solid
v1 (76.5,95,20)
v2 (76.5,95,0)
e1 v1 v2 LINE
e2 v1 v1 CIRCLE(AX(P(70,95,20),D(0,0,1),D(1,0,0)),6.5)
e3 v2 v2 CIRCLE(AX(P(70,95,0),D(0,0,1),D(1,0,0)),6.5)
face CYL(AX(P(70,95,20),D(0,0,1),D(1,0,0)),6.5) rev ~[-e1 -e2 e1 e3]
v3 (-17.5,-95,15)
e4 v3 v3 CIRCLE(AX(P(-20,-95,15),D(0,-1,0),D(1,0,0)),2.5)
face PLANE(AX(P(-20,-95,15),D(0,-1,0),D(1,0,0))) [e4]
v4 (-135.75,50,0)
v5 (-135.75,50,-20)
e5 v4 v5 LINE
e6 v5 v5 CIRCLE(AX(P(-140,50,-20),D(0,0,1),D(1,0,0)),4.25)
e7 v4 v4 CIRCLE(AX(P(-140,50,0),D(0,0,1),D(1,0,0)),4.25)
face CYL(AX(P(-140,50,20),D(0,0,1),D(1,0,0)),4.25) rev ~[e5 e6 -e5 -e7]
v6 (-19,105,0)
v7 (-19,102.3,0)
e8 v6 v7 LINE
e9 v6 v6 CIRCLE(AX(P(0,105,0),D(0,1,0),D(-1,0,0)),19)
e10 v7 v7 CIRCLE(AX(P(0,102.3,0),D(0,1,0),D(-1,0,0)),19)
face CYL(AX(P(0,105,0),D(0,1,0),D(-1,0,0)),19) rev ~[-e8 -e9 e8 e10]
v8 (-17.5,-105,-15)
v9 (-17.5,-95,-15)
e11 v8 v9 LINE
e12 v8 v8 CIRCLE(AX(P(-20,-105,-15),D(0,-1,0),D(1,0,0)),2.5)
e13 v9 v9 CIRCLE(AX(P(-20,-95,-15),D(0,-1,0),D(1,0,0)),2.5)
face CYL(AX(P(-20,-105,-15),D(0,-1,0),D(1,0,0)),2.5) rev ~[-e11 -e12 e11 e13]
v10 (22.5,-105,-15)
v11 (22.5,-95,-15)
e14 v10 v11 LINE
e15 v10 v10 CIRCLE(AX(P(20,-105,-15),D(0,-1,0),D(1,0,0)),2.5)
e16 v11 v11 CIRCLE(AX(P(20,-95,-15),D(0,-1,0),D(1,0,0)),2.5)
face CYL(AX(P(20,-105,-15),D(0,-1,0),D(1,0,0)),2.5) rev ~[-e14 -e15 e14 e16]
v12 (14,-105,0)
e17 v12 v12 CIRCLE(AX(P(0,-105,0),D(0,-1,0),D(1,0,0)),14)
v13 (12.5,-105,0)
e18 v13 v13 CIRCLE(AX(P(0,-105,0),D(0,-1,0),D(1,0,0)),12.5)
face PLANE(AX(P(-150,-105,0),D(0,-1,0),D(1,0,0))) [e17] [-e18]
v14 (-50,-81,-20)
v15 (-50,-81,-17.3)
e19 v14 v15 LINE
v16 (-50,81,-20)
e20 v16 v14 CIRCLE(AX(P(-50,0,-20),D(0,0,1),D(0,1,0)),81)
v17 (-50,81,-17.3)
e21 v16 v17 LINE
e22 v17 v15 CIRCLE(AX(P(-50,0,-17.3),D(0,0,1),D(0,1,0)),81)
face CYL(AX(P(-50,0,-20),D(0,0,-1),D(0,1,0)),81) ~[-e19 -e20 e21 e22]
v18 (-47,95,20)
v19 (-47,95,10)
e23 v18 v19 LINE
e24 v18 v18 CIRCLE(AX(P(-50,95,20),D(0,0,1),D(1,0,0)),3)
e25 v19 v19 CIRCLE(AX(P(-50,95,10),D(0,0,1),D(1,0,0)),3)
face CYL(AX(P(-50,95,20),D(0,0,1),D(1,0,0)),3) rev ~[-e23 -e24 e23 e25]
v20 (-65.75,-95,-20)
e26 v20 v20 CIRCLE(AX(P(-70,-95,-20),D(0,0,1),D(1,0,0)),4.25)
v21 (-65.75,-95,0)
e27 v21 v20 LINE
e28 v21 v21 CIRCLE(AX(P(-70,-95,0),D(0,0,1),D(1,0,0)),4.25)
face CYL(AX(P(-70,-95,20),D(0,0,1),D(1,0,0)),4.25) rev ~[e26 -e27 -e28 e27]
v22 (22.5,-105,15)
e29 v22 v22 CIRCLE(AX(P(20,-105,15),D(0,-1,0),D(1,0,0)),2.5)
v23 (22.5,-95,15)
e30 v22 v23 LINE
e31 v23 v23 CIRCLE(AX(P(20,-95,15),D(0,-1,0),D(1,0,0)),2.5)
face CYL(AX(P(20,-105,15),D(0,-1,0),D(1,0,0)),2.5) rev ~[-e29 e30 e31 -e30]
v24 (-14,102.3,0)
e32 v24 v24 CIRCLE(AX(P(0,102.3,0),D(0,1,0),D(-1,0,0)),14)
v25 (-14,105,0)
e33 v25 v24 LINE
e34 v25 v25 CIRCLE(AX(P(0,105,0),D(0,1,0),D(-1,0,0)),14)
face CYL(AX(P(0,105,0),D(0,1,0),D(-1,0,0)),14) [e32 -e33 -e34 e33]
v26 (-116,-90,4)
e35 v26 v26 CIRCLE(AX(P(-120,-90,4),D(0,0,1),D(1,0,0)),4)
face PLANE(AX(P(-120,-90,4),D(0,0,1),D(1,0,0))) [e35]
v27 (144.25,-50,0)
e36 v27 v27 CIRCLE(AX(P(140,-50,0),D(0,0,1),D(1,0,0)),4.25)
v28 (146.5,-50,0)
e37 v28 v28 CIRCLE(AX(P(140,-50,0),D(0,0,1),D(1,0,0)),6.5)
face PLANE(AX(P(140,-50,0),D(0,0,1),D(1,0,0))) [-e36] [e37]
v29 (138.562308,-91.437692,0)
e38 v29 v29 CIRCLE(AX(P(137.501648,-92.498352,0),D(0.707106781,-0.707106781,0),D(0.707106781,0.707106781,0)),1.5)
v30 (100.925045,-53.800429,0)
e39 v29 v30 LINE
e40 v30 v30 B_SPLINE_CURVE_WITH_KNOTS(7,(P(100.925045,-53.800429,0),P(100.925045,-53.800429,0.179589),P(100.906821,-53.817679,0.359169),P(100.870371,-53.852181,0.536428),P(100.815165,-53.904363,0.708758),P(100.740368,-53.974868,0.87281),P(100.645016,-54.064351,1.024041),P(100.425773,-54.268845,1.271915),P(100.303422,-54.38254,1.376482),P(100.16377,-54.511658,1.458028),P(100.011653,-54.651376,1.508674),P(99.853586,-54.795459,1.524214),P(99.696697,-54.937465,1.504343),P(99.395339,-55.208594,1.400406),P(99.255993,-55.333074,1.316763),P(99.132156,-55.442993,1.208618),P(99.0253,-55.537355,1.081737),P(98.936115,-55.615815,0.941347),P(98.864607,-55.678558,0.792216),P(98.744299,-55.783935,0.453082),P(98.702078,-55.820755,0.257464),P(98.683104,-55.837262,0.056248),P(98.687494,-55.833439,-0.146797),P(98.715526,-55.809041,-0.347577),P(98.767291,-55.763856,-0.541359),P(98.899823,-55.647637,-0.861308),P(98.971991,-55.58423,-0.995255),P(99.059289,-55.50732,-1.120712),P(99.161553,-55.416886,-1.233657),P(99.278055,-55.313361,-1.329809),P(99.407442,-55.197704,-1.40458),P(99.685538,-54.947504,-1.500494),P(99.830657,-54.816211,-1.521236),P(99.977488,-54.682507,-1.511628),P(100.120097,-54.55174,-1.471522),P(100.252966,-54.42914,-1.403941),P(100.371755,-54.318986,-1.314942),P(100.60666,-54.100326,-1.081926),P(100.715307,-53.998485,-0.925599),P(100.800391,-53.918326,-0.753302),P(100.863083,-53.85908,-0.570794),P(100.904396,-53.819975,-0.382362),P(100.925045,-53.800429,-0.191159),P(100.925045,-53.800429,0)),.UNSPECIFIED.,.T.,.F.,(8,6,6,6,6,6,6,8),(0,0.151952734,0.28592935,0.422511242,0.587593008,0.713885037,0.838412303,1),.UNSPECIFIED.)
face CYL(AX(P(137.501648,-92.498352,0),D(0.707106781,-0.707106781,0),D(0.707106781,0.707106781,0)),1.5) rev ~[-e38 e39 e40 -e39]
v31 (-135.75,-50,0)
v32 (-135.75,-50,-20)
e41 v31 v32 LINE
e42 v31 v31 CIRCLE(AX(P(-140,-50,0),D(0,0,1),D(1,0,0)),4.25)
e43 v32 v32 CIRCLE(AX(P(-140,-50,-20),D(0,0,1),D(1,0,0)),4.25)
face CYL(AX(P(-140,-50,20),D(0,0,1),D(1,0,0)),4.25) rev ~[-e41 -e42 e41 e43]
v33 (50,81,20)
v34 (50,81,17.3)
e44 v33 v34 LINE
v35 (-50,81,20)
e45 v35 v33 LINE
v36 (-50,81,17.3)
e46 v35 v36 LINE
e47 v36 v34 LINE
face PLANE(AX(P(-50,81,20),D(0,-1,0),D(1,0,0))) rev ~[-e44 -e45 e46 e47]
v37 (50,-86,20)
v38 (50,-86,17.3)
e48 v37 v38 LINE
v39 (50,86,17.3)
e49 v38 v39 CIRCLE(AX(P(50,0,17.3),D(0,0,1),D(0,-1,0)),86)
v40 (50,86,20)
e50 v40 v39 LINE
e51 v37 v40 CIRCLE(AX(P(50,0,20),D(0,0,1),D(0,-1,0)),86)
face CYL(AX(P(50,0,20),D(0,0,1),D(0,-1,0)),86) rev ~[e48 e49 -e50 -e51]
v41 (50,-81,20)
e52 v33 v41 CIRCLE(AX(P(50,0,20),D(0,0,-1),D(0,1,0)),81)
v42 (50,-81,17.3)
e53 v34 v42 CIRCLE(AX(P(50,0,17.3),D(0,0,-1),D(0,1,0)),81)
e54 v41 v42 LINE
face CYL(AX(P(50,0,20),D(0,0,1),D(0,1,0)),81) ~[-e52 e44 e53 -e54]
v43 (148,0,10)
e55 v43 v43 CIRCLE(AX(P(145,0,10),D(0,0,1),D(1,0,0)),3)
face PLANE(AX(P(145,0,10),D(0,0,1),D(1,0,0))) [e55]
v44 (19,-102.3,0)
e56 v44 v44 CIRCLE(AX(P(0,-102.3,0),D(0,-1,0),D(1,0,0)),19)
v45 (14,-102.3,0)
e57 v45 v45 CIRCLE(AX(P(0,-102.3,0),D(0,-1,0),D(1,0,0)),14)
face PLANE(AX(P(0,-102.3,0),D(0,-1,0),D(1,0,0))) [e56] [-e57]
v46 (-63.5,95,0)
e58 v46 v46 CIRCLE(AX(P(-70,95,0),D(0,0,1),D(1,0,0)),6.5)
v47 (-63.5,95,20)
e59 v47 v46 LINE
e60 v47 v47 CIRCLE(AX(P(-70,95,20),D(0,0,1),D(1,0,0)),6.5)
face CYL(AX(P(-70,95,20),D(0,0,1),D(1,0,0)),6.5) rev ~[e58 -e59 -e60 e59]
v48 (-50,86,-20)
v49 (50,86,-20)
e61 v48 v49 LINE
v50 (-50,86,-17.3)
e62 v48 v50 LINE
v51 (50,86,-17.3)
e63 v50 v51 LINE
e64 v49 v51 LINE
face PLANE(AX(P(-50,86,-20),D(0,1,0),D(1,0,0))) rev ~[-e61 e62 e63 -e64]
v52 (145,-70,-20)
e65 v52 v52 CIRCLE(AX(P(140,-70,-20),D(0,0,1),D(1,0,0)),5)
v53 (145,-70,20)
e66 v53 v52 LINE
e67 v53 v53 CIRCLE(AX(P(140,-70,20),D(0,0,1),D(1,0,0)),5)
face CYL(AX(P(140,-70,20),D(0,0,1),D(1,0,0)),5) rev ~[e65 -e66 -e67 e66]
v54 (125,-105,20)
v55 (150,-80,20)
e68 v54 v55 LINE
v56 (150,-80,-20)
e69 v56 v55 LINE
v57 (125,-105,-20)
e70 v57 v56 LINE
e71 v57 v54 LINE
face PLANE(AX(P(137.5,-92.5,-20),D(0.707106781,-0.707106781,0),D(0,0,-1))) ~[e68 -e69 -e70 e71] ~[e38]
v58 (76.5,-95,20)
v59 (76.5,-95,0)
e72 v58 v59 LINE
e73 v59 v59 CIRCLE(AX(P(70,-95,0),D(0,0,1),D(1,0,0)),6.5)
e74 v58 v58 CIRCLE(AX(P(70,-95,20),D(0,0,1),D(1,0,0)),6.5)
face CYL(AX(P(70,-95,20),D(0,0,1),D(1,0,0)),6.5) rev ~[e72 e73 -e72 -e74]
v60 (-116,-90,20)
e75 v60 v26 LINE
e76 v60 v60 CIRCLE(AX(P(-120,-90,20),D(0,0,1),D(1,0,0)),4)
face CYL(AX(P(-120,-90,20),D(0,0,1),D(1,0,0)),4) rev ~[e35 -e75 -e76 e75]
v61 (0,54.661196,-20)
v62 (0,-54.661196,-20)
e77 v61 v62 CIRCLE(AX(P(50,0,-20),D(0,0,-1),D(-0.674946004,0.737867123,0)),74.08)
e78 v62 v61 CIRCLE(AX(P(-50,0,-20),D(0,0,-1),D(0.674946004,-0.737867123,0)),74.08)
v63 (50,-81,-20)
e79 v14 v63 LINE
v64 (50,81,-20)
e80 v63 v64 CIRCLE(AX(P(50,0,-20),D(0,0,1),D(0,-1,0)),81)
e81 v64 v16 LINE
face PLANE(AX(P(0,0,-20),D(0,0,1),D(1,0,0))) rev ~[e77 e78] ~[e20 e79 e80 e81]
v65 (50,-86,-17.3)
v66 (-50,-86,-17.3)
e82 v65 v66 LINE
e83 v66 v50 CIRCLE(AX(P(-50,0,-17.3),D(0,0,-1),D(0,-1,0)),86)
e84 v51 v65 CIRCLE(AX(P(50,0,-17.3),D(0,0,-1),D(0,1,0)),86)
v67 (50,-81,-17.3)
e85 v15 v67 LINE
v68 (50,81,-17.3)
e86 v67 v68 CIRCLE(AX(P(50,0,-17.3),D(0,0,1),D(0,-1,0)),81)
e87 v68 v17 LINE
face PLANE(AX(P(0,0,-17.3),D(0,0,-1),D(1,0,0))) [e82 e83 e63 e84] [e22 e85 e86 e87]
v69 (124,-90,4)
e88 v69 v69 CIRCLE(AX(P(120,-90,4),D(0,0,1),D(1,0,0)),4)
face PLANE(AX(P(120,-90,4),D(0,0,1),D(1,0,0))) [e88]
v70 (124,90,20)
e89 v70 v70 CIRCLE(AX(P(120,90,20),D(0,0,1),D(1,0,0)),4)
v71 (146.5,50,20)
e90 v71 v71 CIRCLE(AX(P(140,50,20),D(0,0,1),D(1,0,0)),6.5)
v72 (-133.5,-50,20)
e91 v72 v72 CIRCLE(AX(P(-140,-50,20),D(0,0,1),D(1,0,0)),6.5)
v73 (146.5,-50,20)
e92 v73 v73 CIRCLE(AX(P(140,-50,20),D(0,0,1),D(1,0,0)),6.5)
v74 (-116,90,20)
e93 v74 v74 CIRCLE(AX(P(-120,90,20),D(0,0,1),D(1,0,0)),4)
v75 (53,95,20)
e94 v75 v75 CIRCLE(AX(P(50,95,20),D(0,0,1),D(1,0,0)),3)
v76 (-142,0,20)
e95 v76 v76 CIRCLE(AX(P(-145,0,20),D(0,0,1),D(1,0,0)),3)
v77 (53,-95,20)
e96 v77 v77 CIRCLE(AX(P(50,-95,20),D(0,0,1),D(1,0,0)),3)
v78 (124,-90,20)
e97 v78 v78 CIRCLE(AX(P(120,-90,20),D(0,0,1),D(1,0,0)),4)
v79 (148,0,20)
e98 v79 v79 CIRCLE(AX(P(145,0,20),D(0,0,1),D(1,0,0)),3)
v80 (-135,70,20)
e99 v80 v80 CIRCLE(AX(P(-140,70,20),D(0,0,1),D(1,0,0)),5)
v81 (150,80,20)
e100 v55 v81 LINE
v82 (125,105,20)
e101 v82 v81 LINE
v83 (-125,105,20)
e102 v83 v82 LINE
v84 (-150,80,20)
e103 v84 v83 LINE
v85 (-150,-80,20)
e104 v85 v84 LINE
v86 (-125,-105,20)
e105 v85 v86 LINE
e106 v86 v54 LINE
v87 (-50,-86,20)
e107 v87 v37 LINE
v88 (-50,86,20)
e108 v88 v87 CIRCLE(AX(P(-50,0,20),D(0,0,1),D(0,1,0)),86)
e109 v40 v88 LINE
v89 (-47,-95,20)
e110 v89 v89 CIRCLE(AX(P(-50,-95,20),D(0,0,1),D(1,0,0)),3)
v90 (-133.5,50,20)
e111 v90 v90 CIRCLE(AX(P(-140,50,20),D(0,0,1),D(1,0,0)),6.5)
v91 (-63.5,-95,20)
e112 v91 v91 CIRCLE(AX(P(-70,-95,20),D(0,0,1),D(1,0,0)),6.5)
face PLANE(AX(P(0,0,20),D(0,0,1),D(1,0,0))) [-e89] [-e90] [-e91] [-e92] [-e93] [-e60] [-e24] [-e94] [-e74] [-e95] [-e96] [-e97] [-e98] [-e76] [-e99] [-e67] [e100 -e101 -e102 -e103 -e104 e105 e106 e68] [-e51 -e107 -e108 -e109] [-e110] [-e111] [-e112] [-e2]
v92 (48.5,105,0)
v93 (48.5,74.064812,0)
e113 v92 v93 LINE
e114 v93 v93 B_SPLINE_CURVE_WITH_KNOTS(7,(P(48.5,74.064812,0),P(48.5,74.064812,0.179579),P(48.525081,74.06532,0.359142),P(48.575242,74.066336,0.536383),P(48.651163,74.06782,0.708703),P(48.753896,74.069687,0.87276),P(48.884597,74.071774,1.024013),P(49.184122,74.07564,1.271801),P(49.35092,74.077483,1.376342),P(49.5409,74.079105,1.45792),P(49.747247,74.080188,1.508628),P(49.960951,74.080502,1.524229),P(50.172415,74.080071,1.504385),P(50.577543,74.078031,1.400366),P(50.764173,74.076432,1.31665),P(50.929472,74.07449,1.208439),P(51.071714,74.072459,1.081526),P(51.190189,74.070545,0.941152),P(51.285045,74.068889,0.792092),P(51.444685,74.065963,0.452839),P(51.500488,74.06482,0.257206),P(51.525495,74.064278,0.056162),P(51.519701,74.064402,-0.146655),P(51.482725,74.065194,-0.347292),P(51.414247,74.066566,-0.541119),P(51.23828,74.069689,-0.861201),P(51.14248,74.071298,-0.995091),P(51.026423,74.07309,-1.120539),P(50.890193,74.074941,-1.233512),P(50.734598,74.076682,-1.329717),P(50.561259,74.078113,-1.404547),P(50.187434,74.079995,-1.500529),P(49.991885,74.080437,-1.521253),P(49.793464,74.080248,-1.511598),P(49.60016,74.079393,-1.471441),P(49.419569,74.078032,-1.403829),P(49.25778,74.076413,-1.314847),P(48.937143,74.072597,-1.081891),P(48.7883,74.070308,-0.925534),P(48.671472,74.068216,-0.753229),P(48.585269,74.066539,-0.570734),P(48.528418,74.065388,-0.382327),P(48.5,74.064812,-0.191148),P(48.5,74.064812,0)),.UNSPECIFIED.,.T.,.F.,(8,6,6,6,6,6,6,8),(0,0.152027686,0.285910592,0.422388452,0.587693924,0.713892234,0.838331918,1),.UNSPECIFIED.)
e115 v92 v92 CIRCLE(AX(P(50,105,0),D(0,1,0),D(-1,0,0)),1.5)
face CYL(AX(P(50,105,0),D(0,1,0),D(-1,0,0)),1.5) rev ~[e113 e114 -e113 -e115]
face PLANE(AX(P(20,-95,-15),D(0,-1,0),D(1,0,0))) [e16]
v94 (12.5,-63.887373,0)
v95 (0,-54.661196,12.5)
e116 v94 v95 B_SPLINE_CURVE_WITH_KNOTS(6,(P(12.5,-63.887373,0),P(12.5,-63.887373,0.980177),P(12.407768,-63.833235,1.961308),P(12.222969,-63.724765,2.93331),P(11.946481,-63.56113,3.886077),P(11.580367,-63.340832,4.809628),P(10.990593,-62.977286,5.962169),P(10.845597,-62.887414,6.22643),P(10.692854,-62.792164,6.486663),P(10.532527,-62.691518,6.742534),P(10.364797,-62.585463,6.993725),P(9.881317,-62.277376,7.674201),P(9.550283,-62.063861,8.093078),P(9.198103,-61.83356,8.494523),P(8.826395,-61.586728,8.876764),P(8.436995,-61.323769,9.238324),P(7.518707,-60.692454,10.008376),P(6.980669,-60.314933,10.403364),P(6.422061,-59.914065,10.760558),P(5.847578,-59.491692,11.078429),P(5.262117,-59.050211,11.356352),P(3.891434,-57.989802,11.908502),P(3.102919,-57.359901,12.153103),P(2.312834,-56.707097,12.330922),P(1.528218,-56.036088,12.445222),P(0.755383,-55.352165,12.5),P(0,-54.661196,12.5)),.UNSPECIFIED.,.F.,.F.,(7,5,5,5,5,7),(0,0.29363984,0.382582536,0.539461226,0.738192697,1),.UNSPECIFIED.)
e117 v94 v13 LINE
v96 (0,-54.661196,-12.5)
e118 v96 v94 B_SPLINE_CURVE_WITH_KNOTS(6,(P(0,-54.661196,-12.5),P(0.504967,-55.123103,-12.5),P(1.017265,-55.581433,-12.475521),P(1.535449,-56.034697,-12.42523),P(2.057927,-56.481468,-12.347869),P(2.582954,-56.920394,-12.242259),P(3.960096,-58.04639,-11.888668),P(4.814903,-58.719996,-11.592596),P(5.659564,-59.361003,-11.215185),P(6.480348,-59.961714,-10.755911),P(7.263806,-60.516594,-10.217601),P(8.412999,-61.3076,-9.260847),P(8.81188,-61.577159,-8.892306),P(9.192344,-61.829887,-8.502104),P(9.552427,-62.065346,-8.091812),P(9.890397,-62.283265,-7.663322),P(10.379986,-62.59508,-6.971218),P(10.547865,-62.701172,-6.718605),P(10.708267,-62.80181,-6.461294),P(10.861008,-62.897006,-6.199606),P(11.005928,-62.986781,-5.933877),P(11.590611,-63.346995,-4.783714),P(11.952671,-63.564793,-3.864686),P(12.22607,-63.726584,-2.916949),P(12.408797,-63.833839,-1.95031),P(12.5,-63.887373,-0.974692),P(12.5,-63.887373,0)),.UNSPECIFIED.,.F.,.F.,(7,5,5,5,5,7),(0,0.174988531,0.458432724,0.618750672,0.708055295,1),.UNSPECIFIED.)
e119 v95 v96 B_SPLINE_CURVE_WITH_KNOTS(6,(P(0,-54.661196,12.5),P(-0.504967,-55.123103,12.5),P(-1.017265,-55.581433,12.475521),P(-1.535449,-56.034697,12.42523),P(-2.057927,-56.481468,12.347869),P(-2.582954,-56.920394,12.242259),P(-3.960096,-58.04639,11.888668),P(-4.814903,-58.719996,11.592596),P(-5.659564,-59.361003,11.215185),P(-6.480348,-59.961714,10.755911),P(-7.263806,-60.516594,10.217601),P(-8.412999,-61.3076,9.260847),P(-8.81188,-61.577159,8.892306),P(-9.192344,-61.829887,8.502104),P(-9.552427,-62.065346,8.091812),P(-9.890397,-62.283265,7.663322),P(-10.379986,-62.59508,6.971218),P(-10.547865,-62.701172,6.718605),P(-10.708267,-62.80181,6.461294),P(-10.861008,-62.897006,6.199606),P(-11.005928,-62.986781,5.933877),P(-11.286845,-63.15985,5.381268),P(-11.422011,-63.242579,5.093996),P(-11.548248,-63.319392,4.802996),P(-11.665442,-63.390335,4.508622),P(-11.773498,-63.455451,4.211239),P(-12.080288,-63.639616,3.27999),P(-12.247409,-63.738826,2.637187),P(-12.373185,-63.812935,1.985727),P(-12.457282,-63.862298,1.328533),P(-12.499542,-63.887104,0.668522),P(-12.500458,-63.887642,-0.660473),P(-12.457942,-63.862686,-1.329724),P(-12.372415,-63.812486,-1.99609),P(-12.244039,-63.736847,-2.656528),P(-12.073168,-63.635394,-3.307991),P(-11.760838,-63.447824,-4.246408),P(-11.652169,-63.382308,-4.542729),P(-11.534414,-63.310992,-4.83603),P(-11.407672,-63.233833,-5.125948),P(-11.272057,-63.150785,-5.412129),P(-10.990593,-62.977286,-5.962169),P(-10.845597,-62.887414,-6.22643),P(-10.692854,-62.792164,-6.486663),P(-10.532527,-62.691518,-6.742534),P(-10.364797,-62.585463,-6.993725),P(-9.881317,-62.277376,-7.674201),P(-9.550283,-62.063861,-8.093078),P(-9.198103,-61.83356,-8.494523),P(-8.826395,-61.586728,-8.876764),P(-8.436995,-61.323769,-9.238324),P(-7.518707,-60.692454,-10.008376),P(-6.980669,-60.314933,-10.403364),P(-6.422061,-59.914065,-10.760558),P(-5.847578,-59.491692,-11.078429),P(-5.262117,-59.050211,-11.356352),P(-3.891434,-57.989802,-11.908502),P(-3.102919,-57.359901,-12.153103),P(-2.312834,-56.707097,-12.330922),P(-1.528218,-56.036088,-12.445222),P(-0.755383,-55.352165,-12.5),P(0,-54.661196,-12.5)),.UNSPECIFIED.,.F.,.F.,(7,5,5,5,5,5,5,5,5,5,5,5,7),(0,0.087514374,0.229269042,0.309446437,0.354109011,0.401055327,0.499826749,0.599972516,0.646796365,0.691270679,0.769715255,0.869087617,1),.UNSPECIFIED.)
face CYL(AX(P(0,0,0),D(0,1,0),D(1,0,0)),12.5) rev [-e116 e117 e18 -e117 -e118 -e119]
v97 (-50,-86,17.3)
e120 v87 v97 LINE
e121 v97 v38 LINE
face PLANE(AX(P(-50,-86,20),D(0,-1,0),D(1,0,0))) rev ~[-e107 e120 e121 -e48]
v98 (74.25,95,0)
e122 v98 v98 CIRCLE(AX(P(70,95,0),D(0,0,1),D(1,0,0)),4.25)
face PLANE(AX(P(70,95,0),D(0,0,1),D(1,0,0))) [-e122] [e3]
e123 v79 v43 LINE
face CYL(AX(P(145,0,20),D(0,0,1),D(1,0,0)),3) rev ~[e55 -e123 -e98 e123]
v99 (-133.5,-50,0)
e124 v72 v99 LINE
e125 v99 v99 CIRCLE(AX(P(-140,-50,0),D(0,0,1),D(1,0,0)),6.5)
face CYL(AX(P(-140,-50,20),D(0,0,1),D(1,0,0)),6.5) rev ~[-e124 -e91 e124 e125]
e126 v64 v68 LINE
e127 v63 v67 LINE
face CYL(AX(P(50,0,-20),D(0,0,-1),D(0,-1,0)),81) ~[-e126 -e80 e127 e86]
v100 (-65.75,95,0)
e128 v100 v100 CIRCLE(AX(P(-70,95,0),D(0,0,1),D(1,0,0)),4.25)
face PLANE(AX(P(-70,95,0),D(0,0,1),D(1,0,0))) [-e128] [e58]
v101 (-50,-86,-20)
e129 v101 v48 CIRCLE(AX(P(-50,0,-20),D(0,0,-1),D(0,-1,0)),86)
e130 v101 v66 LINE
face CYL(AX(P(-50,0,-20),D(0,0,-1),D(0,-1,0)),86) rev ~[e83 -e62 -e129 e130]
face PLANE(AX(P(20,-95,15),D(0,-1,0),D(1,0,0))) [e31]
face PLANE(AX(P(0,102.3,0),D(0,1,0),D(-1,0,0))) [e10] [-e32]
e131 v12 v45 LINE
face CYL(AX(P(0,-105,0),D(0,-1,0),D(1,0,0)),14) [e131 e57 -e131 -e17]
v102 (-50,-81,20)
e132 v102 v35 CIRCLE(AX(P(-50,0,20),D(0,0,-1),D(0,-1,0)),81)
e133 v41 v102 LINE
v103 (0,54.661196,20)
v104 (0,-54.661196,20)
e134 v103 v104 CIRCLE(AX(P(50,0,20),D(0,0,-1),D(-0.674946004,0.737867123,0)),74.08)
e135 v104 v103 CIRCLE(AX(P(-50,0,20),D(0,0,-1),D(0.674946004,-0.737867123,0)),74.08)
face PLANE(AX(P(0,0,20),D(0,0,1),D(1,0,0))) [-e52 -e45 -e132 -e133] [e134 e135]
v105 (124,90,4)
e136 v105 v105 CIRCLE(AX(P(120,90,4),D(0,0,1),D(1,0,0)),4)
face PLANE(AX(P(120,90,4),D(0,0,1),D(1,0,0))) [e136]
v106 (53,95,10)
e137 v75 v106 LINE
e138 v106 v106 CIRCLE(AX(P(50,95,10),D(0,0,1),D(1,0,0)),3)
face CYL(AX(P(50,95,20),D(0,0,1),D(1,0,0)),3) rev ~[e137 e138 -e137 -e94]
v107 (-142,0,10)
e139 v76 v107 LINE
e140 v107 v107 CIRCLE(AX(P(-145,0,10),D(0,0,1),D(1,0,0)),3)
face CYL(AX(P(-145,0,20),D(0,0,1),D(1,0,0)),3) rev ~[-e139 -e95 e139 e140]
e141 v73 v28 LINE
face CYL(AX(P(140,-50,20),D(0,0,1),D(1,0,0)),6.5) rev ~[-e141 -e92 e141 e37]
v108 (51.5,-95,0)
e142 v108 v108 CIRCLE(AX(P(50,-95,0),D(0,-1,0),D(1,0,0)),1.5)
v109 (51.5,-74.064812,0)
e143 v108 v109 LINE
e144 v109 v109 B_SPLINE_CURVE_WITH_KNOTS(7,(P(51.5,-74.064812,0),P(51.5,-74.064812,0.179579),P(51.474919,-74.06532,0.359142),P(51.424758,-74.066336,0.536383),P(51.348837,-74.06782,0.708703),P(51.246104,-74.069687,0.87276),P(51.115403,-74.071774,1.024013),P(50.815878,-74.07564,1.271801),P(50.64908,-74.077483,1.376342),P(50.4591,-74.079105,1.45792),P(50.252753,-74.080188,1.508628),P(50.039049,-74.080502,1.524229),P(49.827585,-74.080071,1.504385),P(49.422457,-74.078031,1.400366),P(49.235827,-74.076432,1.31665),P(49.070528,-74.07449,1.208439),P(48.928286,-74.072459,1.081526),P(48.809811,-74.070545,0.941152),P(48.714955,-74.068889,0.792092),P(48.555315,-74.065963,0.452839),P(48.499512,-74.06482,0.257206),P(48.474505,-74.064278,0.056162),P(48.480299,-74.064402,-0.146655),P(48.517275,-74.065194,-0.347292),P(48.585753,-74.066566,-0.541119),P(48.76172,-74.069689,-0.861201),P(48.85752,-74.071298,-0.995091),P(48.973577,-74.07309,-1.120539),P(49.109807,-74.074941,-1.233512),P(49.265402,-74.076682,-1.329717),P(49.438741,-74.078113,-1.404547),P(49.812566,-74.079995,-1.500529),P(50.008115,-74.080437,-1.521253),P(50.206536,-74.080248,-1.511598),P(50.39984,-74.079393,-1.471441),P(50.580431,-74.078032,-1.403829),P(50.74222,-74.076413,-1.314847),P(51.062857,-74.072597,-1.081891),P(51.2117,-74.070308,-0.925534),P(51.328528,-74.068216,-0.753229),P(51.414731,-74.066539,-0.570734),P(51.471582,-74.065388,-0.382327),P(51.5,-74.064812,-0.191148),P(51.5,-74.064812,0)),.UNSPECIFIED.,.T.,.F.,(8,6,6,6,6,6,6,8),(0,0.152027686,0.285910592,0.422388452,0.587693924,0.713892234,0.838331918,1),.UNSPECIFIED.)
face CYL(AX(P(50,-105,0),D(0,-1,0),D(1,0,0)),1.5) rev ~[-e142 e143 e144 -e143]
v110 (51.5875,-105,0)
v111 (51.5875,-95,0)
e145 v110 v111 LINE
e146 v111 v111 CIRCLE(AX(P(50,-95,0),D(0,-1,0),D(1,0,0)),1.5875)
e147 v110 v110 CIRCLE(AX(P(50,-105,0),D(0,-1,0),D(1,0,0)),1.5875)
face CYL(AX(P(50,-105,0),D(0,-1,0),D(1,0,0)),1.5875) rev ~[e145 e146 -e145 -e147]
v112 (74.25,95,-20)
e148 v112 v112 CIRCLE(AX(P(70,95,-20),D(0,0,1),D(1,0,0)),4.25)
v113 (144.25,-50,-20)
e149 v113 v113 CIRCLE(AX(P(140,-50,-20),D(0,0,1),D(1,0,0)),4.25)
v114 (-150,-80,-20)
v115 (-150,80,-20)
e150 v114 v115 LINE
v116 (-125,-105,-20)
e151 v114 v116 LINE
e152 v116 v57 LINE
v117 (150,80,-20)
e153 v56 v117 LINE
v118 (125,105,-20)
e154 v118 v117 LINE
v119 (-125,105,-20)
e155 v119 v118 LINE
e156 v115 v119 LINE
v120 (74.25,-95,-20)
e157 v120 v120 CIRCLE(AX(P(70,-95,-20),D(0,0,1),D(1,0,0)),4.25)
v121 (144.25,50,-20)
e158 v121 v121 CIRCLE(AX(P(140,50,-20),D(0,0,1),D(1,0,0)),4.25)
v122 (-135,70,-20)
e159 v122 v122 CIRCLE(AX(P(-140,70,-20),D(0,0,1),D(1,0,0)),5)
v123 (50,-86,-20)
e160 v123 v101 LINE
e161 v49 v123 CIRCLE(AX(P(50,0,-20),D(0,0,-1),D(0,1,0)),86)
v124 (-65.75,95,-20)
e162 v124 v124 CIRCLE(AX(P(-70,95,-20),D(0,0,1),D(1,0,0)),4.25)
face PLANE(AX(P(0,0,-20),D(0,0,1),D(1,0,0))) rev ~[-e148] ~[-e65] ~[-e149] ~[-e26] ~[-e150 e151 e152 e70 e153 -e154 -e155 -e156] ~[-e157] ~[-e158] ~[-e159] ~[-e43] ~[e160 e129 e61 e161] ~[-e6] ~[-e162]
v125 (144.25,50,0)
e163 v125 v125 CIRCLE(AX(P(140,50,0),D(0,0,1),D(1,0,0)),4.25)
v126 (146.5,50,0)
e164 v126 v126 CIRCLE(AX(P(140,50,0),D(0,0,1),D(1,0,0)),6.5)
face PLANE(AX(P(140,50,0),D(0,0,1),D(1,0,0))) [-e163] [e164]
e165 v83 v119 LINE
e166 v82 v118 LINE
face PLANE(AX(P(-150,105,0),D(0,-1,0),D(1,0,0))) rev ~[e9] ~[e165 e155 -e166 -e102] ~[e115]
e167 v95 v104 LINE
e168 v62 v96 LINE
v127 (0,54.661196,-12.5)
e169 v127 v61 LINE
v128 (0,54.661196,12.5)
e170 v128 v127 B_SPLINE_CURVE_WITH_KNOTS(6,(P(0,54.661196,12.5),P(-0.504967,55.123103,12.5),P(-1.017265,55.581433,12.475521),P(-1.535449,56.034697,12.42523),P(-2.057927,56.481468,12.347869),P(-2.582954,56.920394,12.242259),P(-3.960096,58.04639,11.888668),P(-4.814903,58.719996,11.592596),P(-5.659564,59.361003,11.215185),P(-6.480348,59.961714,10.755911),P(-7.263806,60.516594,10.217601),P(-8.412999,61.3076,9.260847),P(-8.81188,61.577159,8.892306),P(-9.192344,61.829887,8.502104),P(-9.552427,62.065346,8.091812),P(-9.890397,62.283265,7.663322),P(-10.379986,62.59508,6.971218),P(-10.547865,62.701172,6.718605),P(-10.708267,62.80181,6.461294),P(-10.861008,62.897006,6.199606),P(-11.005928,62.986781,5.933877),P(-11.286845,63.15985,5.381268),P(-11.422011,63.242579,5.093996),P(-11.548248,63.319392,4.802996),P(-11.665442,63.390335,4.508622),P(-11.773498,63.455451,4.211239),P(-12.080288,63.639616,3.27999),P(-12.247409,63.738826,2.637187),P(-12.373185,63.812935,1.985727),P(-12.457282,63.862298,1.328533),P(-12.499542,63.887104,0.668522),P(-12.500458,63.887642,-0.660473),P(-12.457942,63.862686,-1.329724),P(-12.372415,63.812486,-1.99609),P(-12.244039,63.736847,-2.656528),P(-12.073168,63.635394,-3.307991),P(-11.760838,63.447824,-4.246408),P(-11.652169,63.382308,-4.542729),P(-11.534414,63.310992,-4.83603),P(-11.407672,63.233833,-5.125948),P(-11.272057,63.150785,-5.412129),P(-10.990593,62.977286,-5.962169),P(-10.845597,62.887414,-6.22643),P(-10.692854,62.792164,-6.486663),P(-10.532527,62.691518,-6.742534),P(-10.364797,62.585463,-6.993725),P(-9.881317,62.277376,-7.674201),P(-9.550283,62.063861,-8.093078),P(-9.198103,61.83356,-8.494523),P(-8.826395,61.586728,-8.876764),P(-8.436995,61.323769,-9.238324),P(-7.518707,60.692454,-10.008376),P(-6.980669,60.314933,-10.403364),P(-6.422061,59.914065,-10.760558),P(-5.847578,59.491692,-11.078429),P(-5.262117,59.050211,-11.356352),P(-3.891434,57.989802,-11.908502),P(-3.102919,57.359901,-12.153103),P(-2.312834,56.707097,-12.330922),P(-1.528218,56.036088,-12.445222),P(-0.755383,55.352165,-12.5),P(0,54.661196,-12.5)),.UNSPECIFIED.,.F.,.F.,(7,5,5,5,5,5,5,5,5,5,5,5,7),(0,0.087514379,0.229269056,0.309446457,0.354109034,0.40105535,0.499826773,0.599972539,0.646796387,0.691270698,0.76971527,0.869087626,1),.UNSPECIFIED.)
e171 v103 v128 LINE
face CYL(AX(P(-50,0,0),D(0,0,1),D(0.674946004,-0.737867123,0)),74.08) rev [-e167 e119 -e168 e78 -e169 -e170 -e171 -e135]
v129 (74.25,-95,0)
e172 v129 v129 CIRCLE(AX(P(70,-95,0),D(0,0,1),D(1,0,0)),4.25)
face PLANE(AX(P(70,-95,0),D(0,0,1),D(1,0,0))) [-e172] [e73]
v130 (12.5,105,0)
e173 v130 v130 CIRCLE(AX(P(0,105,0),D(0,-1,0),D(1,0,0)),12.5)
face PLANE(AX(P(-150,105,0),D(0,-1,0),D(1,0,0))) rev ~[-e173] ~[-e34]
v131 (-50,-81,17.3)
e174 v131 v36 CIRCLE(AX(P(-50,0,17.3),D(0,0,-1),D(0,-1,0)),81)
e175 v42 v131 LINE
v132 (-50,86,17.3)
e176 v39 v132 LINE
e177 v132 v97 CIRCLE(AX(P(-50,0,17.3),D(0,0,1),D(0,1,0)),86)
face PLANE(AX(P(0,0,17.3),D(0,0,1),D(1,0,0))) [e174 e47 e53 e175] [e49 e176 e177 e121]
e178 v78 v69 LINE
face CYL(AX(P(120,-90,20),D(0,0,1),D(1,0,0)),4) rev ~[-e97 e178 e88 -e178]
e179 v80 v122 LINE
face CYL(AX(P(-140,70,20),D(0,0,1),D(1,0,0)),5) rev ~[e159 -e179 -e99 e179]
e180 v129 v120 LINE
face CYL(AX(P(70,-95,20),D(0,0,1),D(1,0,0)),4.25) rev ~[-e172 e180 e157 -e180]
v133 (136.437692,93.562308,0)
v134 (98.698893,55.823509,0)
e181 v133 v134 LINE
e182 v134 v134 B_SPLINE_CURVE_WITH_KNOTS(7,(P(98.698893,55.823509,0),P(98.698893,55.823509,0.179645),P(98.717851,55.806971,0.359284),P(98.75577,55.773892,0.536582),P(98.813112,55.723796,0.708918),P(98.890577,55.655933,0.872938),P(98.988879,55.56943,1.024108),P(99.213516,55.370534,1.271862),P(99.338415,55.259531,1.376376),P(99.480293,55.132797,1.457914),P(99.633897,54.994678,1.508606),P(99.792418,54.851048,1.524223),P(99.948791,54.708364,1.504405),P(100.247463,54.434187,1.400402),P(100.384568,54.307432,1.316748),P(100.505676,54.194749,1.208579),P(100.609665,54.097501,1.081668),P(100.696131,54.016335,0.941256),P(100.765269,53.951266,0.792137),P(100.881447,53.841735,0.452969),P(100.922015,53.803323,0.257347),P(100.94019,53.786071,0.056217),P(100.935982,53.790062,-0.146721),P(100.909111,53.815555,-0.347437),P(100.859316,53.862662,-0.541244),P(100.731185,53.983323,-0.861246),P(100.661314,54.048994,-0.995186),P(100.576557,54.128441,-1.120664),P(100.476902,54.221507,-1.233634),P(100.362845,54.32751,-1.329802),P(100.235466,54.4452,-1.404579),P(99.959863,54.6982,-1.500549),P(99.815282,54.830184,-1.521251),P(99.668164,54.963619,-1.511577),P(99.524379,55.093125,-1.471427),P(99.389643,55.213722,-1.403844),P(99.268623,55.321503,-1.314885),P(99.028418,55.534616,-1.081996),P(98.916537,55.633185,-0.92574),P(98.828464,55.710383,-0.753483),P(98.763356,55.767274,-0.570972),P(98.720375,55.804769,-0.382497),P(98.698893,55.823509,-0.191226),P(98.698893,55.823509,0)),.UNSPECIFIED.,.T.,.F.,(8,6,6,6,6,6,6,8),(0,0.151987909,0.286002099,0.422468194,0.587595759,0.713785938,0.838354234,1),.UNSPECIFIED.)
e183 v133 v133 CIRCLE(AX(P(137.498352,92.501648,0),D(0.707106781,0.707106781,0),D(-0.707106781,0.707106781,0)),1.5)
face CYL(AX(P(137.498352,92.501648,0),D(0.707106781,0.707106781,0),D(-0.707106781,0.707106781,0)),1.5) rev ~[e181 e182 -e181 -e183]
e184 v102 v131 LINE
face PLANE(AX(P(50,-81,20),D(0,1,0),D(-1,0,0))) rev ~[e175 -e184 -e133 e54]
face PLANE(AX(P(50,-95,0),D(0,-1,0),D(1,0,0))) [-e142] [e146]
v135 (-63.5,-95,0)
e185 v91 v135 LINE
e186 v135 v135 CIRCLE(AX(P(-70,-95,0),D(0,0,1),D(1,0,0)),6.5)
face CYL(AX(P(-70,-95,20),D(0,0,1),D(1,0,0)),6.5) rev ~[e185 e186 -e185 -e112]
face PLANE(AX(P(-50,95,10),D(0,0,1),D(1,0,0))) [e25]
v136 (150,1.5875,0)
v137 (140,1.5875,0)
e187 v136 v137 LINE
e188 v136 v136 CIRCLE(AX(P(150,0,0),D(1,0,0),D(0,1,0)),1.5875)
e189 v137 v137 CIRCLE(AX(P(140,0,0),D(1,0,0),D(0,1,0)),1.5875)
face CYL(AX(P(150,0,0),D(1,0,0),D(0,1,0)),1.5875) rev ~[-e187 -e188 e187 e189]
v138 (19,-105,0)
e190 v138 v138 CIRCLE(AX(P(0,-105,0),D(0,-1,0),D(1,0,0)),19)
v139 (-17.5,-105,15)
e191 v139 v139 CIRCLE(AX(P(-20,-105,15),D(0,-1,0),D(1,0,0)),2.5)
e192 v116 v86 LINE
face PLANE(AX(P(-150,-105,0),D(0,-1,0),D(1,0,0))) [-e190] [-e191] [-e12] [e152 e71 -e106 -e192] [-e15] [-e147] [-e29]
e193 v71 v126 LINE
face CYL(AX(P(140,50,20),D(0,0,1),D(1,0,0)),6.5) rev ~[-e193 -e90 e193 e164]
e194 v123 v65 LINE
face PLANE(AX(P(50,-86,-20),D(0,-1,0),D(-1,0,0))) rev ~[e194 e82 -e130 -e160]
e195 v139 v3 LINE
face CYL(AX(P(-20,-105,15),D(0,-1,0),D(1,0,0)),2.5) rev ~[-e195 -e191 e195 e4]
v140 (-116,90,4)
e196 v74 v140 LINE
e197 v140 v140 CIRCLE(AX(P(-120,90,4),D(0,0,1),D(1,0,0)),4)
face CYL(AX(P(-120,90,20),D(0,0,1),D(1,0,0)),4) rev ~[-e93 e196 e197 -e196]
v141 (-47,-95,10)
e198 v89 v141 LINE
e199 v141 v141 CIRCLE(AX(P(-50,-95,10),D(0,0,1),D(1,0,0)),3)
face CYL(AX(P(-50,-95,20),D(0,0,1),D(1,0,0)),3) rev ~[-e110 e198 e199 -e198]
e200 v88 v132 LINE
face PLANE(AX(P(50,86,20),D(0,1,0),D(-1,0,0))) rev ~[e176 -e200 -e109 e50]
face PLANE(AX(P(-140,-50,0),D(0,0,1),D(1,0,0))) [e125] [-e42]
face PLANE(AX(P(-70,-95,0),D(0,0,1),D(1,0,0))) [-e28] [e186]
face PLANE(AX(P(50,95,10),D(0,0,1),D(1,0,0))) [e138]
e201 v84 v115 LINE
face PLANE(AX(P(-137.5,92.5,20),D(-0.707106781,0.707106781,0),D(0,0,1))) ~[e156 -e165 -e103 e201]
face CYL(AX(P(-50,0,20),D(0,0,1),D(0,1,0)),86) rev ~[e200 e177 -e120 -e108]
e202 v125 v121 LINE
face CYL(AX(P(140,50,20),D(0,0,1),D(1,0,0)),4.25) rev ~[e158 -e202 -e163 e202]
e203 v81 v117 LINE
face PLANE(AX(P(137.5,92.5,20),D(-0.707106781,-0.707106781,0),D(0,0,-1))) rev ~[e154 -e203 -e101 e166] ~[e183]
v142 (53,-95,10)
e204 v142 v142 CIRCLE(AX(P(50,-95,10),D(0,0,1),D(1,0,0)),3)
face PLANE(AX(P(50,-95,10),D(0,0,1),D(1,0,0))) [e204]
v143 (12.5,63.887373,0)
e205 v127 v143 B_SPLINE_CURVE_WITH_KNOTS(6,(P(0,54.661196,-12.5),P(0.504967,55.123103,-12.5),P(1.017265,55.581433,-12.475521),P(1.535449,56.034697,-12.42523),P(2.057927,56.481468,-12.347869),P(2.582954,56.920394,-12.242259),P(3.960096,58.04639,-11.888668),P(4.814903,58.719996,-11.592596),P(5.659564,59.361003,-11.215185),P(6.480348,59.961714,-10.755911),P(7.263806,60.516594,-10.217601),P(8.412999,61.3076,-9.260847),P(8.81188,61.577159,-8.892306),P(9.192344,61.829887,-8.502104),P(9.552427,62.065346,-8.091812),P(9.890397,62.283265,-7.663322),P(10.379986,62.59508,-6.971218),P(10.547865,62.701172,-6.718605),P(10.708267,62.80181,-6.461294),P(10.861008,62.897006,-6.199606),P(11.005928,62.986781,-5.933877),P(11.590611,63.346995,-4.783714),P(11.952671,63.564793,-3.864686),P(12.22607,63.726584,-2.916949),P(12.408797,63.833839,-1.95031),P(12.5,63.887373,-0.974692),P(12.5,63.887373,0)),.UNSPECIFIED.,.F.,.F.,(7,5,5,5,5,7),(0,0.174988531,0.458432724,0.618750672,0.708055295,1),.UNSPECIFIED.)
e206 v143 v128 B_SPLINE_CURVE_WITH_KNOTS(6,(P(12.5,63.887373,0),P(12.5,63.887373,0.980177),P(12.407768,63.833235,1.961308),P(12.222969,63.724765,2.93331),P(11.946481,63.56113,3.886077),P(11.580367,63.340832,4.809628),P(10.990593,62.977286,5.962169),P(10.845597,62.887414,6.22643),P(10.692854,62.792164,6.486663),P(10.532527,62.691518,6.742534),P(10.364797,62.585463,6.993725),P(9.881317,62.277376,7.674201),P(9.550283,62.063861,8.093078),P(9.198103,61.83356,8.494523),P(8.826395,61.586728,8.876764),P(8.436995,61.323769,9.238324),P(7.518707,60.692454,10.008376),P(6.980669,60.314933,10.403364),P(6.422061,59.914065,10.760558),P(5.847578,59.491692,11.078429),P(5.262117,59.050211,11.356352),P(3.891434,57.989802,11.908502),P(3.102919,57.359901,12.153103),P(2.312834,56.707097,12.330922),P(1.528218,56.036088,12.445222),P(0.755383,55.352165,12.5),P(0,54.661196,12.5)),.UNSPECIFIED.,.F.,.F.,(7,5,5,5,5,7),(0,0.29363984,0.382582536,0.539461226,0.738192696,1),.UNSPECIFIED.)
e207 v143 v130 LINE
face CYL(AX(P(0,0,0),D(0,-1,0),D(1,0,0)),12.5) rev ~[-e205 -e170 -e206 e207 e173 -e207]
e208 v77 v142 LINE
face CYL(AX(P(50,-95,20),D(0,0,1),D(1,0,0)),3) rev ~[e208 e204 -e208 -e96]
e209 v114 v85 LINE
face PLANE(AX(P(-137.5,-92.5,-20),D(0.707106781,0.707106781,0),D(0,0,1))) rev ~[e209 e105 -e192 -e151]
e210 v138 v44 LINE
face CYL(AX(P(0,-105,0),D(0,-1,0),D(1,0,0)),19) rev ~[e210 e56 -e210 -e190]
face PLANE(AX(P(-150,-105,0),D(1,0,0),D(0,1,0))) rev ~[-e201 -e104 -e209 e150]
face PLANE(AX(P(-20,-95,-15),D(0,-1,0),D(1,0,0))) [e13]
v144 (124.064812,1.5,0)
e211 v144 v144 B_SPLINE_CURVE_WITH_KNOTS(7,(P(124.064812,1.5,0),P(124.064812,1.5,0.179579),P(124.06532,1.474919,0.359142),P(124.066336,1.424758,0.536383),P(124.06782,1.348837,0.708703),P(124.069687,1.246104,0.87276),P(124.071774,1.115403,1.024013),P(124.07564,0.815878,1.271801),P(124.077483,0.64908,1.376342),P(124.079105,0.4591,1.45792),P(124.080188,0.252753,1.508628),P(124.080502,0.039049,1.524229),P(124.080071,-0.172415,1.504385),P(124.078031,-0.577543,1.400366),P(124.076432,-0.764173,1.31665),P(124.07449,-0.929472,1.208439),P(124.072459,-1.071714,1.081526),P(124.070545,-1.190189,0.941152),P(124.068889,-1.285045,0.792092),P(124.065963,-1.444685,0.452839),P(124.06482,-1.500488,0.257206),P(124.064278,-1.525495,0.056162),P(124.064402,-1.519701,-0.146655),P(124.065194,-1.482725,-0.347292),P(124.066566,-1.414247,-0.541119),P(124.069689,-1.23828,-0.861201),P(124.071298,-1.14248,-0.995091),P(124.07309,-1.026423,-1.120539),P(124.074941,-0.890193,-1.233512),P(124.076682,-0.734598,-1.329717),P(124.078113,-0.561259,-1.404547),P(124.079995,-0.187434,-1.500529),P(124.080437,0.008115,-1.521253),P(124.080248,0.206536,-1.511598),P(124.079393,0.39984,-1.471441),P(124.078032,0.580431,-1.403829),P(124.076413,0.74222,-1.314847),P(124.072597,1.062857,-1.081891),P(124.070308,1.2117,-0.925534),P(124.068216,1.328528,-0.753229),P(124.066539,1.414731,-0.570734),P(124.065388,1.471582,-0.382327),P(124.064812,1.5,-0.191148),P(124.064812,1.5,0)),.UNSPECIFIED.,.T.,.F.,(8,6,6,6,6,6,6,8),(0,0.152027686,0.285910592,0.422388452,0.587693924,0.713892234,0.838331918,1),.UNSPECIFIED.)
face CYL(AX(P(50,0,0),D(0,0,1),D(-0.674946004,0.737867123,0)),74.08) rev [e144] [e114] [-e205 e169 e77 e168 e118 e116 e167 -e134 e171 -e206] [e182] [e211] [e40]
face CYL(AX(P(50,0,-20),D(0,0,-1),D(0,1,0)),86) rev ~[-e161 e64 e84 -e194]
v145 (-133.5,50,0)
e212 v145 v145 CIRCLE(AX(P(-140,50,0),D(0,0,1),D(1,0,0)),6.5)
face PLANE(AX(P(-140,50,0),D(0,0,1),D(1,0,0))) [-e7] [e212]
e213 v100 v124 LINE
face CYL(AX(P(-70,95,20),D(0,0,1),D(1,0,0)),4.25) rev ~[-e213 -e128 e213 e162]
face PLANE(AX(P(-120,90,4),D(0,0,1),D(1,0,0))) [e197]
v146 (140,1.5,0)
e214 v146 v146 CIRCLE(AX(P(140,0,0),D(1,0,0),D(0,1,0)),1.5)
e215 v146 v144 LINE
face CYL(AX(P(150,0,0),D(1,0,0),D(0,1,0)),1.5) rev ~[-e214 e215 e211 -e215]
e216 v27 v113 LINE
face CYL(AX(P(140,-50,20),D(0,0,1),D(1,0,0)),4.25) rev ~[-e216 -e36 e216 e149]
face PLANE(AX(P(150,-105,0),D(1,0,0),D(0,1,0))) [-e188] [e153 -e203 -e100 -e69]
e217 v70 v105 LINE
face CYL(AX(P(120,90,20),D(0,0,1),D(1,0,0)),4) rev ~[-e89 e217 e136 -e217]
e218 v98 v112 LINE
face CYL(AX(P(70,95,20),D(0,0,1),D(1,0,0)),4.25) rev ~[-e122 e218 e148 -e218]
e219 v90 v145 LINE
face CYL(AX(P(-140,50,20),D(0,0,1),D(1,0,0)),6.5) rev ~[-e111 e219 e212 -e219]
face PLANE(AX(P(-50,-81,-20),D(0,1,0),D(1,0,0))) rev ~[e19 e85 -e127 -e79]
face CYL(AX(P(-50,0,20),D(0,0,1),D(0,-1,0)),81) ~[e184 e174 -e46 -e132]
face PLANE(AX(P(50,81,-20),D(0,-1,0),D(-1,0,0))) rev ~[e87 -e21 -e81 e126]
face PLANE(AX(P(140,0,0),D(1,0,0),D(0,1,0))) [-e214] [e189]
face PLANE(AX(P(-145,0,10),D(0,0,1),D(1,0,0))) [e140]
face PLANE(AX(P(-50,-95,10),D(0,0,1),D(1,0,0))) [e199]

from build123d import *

# Parameters (mm, degrees)
F0_W          = 300
F0_H          = 210
F1_DEPTH      = 20
F1_DEPTH_BACK = 20
F2_R          = 12.5
F3_DEPTH      = 105
F3_DEPTH_BACK = 105
F4_R          = 19
F4_R_2        = 14
F5_DEPTH      = 2.7
F6_R          = 19
F6_R_2        = 14
F7_DEPTH      = 2.7
F8_R          = 6.5
F8_R_2        = 4.25
F9_DEPTH      = 20
F8_R_3        = 3
F10_DEPTH     = 10
F8_R_4        = 5
F11_DEPTH     = 40
F8_R_5        = 4
F12_DEPTH     = 16
F13_SIZE      = 25
F14_R         = 1.5875
F14_R_2       = 1.5
F15_DEPTH     = 10
F16_DEPTH     = 40
F4_R_3        = 1.5875
F4_R_4        = 1.5
F17_DEPTH     = 10
F18_DEPTH     = 40
F6_R_3        = 1.5
F19_DEPTH     = 40
F20_R         = 1.5
F21_DEPTH     = 70
F22_R         = 1.5
F23_DEPTH     = 70
F4_R_5        = 2.5
F24_DEPTH     = 10
F26_DEPTH     = 2.7
F28_DEPTH     = 2.7


with BuildPart() as f1:
    # F0 (on Top) → F1 (new body, two sides)
    with BuildSketch(Plane.XY) as f1_sk:
        Rectangle(F0_W, F0_H)
        with BuildLine():
            ThreePointArc((-50, -86), (-136, 0), (-50, 86))
            Line((-50, 86), (50, 86))
            ThreePointArc((50, 86), (136, 0), (50, -86))
            Line((50, -86), (-50, -86))
        make_face(mode=Mode.SUBTRACT)
        with BuildLine():
            Line((50, 86), (-50, 86))
            ThreePointArc((-50, 86), (-136, 0), (-50, -86))
            Line((-50, -86), (50, -86))
            ThreePointArc((50, -86), (136, 0), (50, 86))
        make_face()
        with BuildLine():
            ThreePointArc((-50, -81), (-131, 0), (-50, 81))
            Line((-50, 81), (50, 81))
            ThreePointArc((50, 81), (131, 0), (50, -81))
            Line((50, -81), (-50, -81))
        make_face(mode=Mode.SUBTRACT)
        with BuildLine():
            Line((50, 81), (-50, 81))
            ThreePointArc((-50, 81), (-131, 0), (-50, -81))
            Line((-50, -81), (50, -81))
            ThreePointArc((50, -81), (131, 0), (50, 81))
        make_face()
        with BuildLine():
            ThreePointArc((0, -54.6611964743), (-124.08, 0), (0, 54.6611964743))
            ThreePointArc((0, 54.6611964743), (124.08, 0), (0, -54.6611964743))
        make_face(mode=Mode.SUBTRACT)
    extrude(amount=F1_DEPTH)
    extrude(f1_sk.sketch, amount=-F1_DEPTH_BACK)

    # F2 (on Front) → F3 (cut, two sides)
    with BuildSketch(Plane.XZ) as f3_sk:
        Circle(F2_R)
    extrude(amount=-F3_DEPTH, mode=Mode.SUBTRACT)
    extrude(f3_sk.sketch, amount=F3_DEPTH_BACK, mode=Mode.SUBTRACT)

    # F4 (on face) → F5 (cut)
    with BuildSketch(Plane.XZ.offset(105)):
        Circle(F4_R)
        Circle(F4_R_2, mode=Mode.SUBTRACT)
    extrude(amount=-F5_DEPTH, mode=Mode.SUBTRACT)

    # F6 (on face) → F7 (cut)
    with BuildSketch(Plane(origin=(0, 105, 0), x_dir=(-1, 0, 0), z_dir=(0, 1, 0))):
        Circle(F6_R)
        Circle(F6_R_2, mode=Mode.SUBTRACT)
    extrude(amount=-F7_DEPTH, mode=Mode.SUBTRACT)

    # F8 (on face) → F9 (cut)
    with BuildSketch(Plane.XY.offset(20)):
        with Locations((140, 50)):
            Circle(F8_R)
        with Locations((140, 50)):
            Circle(F8_R_2, mode=Mode.SUBTRACT)
        with Locations((140, -50)):
            Circle(F8_R)
        with Locations((140, -50)):
            Circle(F8_R_2, mode=Mode.SUBTRACT)
        with Locations((70, -95)):
            Circle(F8_R)
        with Locations((70, -95)):
            Circle(F8_R_2, mode=Mode.SUBTRACT)
        with Locations((-70, -95)):
            Circle(F8_R)
        with Locations((-70, -95)):
            Circle(F8_R_2, mode=Mode.SUBTRACT)
        with Locations((-140, -50)):
            Circle(F8_R)
        with Locations((-140, -50)):
            Circle(F8_R_2, mode=Mode.SUBTRACT)
        with Locations((-140, 50)):
            Circle(F8_R)
        with Locations((-140, 50)):
            Circle(F8_R_2, mode=Mode.SUBTRACT)
        with Locations((-70, 95)):
            Circle(F8_R)
        with Locations((-70, 95)):
            Circle(F8_R_2, mode=Mode.SUBTRACT)
        with Locations((70, 95)):
            Circle(F8_R)
        with Locations((70, 95)):
            Circle(F8_R_2, mode=Mode.SUBTRACT)
    extrude(amount=-F9_DEPTH, mode=Mode.SUBTRACT)

    # F8 (on face) → F10 (cut)
    with BuildSketch(Plane.XY.offset(20)):
        with Locations((-50, 95)):
            Circle(F8_R_3)
        with Locations((-145, 0)):
            Circle(F8_R_3)
        with Locations((50, 95)):
            Circle(F8_R_3)
        with Locations((145, 0)):
            Circle(F8_R_3)
        with Locations((-50, -95)):
            Circle(F8_R_3)
        with Locations((50, -95)):
            Circle(F8_R_3)
    extrude(amount=-F10_DEPTH, mode=Mode.SUBTRACT)

    # F8 (on face) → F11 (cut)
    with BuildSketch(Plane.XY.offset(20)):
        with Locations((-70, 95)):
            Circle(F8_R_2)
        with Locations((-140, 50)):
            Circle(F8_R_2)
        with Locations((-140, -50)):
            Circle(F8_R_2)
        with Locations((-70, -95)):
            Circle(F8_R_2)
        with Locations((70, -95)):
            Circle(F8_R_2)
        with Locations((140, -50)):
            Circle(F8_R_2)
        with Locations((140, 50)):
            Circle(F8_R_2)
        with Locations((70, 95)):
            Circle(F8_R_2)
        with Locations((-140, 70)):
            Circle(F8_R_4)
        with Locations((140, -70)):
            Circle(F8_R_4)
    extrude(amount=-F11_DEPTH, mode=Mode.SUBTRACT)

    # F8 (on face) → F12 (cut)
    with BuildSketch(Plane.XY.offset(20)):
        with Locations((-120, 90)):
            Circle(F8_R_5)
        with Locations((-120, -90)):
            Circle(F8_R_5)
        with Locations((120, -90)):
            Circle(F8_R_5)
        with Locations((120, 90)):
            Circle(F8_R_5)
    extrude(amount=-F12_DEPTH, mode=Mode.SUBTRACT)

    # F13
    f13_edges = [f1.edges().sort_by_distance(p)[0] for p in [
        (-150, 105, 0),
        (-150, -105, 0),
        (150, 105, 0),
        (150, -105, 0),
    ]]
    chamfer(f13_edges, length=F13_SIZE)

    # F14 (on face) → F15 (cut)
    with BuildSketch(Plane.YZ.offset(150)):
        Circle(F14_R)
        Circle(F14_R_2, mode=Mode.SUBTRACT)
    extrude(amount=-F15_DEPTH, mode=Mode.SUBTRACT)

    # F16 (cut): a face of the model
    f16_faces = [f1.faces().sort_by_distance(p)[0] for p in [
        (150, 0, 0),
    ]]
    extrude(f16_faces, amount=-F16_DEPTH, mode=Mode.SUBTRACT)

    # F4 (on face) → F17 (cut)
    with BuildSketch(Plane.XZ.offset(105)):
        with Locations((50, 0)):
            Circle(F4_R_3)
        with Locations((50, 0)):
            Circle(F4_R_4, mode=Mode.SUBTRACT)
    extrude(amount=-F17_DEPTH, mode=Mode.SUBTRACT)

    # F4 (on face) → F18 (cut)
    with BuildSketch(Plane.XZ.offset(105)):
        with Locations((50, 0)):
            Circle(F4_R_4)
    extrude(amount=-F18_DEPTH, mode=Mode.SUBTRACT)

    # F6 (on face) → F19 (cut)
    with BuildSketch(Plane(origin=(0, 105, 0), x_dir=(-1, 0, 0), z_dir=(0, 1, 0))):
        with Locations((-50, 0)):
            Circle(F6_R_3)
    extrude(amount=-F19_DEPTH, mode=Mode.SUBTRACT)

    # F20 (on face) → F21 (cut)
    with BuildSketch(Plane(origin=(115, -115, 0), x_dir=(0.7071067812, 0.7071067812, 0), z_dir=(0.7071067812, -0.7071067812, 0))):
        with Locations((31.8221356237, 0)):
            Circle(F20_R)
    extrude(amount=-F21_DEPTH, mode=Mode.SUBTRACT)

    # F22 (on face) → F23 (cut)
    with BuildSketch(Plane(origin=(115, 115, 0), x_dir=(-0.7071067812, 0.7071067812, 0), z_dir=(0.7071067812, 0.7071067812, 0))):
        with Locations((-31.8174746831, 0)):
            Circle(F22_R)
    extrude(amount=-F23_DEPTH, mode=Mode.SUBTRACT)

    # F4 (on face) → F24 (cut)
    with BuildSketch(Plane.XZ.offset(105)):
        with Locations((-20, 15)):
            Circle(F4_R_5)
        with Locations((20, 15)):
            Circle(F4_R_5)
        with Locations((20, -15)):
            Circle(F4_R_5)
        with Locations((-20, -15)):
            Circle(F4_R_5)
    extrude(amount=-F24_DEPTH, mode=Mode.SUBTRACT)

    # F25 (on face) → F26 (cut)
    with BuildSketch(Plane.XY.offset(20)):
        with BuildLine():
            Line((-50, -86), (50, -86))
            ThreePointArc((50, -86), (136, 0), (50, 86))
            Line((50, 86), (-50, 86))
            ThreePointArc((-50, 86), (-136, 0), (-50, -86))
        make_face()
        with BuildLine():
            ThreePointArc((50, 81), (131, 0), (50, -81))
            Line((50, -81), (-50, -81))
            ThreePointArc((-50, -81), (-131, 0), (-50, 81))
            Line((-50, 81), (50, 81))
        make_face(mode=Mode.SUBTRACT)
    extrude(amount=-F26_DEPTH, mode=Mode.SUBTRACT)

    # F27 (on face) → F28 (cut)
    with BuildSketch(Plane(origin=(0, 0, -20), x_dir=(1, 0, 0), z_dir=(0, 0, -1))):
        with BuildLine():
            Line((50, 86), (-50, 86))
            ThreePointArc((-50, 86), (-136, 0), (-50, -86))
            Line((-50, -86), (50, -86))
            ThreePointArc((50, -86), (136, 0), (50, 86))
        make_face()
        with BuildLine():
            ThreePointArc((-50, -81), (-131, 0), (-50, 81))
            Line((-50, 81), (50, 81))
            ThreePointArc((50, 81), (131, 0), (50, -81))
            Line((50, -81), (-50, -81))
        make_face(mode=Mode.SUBTRACT)
    extrude(amount=-F28_DEPTH, mode=Mode.SUBTRACT)


solid = f1.part
